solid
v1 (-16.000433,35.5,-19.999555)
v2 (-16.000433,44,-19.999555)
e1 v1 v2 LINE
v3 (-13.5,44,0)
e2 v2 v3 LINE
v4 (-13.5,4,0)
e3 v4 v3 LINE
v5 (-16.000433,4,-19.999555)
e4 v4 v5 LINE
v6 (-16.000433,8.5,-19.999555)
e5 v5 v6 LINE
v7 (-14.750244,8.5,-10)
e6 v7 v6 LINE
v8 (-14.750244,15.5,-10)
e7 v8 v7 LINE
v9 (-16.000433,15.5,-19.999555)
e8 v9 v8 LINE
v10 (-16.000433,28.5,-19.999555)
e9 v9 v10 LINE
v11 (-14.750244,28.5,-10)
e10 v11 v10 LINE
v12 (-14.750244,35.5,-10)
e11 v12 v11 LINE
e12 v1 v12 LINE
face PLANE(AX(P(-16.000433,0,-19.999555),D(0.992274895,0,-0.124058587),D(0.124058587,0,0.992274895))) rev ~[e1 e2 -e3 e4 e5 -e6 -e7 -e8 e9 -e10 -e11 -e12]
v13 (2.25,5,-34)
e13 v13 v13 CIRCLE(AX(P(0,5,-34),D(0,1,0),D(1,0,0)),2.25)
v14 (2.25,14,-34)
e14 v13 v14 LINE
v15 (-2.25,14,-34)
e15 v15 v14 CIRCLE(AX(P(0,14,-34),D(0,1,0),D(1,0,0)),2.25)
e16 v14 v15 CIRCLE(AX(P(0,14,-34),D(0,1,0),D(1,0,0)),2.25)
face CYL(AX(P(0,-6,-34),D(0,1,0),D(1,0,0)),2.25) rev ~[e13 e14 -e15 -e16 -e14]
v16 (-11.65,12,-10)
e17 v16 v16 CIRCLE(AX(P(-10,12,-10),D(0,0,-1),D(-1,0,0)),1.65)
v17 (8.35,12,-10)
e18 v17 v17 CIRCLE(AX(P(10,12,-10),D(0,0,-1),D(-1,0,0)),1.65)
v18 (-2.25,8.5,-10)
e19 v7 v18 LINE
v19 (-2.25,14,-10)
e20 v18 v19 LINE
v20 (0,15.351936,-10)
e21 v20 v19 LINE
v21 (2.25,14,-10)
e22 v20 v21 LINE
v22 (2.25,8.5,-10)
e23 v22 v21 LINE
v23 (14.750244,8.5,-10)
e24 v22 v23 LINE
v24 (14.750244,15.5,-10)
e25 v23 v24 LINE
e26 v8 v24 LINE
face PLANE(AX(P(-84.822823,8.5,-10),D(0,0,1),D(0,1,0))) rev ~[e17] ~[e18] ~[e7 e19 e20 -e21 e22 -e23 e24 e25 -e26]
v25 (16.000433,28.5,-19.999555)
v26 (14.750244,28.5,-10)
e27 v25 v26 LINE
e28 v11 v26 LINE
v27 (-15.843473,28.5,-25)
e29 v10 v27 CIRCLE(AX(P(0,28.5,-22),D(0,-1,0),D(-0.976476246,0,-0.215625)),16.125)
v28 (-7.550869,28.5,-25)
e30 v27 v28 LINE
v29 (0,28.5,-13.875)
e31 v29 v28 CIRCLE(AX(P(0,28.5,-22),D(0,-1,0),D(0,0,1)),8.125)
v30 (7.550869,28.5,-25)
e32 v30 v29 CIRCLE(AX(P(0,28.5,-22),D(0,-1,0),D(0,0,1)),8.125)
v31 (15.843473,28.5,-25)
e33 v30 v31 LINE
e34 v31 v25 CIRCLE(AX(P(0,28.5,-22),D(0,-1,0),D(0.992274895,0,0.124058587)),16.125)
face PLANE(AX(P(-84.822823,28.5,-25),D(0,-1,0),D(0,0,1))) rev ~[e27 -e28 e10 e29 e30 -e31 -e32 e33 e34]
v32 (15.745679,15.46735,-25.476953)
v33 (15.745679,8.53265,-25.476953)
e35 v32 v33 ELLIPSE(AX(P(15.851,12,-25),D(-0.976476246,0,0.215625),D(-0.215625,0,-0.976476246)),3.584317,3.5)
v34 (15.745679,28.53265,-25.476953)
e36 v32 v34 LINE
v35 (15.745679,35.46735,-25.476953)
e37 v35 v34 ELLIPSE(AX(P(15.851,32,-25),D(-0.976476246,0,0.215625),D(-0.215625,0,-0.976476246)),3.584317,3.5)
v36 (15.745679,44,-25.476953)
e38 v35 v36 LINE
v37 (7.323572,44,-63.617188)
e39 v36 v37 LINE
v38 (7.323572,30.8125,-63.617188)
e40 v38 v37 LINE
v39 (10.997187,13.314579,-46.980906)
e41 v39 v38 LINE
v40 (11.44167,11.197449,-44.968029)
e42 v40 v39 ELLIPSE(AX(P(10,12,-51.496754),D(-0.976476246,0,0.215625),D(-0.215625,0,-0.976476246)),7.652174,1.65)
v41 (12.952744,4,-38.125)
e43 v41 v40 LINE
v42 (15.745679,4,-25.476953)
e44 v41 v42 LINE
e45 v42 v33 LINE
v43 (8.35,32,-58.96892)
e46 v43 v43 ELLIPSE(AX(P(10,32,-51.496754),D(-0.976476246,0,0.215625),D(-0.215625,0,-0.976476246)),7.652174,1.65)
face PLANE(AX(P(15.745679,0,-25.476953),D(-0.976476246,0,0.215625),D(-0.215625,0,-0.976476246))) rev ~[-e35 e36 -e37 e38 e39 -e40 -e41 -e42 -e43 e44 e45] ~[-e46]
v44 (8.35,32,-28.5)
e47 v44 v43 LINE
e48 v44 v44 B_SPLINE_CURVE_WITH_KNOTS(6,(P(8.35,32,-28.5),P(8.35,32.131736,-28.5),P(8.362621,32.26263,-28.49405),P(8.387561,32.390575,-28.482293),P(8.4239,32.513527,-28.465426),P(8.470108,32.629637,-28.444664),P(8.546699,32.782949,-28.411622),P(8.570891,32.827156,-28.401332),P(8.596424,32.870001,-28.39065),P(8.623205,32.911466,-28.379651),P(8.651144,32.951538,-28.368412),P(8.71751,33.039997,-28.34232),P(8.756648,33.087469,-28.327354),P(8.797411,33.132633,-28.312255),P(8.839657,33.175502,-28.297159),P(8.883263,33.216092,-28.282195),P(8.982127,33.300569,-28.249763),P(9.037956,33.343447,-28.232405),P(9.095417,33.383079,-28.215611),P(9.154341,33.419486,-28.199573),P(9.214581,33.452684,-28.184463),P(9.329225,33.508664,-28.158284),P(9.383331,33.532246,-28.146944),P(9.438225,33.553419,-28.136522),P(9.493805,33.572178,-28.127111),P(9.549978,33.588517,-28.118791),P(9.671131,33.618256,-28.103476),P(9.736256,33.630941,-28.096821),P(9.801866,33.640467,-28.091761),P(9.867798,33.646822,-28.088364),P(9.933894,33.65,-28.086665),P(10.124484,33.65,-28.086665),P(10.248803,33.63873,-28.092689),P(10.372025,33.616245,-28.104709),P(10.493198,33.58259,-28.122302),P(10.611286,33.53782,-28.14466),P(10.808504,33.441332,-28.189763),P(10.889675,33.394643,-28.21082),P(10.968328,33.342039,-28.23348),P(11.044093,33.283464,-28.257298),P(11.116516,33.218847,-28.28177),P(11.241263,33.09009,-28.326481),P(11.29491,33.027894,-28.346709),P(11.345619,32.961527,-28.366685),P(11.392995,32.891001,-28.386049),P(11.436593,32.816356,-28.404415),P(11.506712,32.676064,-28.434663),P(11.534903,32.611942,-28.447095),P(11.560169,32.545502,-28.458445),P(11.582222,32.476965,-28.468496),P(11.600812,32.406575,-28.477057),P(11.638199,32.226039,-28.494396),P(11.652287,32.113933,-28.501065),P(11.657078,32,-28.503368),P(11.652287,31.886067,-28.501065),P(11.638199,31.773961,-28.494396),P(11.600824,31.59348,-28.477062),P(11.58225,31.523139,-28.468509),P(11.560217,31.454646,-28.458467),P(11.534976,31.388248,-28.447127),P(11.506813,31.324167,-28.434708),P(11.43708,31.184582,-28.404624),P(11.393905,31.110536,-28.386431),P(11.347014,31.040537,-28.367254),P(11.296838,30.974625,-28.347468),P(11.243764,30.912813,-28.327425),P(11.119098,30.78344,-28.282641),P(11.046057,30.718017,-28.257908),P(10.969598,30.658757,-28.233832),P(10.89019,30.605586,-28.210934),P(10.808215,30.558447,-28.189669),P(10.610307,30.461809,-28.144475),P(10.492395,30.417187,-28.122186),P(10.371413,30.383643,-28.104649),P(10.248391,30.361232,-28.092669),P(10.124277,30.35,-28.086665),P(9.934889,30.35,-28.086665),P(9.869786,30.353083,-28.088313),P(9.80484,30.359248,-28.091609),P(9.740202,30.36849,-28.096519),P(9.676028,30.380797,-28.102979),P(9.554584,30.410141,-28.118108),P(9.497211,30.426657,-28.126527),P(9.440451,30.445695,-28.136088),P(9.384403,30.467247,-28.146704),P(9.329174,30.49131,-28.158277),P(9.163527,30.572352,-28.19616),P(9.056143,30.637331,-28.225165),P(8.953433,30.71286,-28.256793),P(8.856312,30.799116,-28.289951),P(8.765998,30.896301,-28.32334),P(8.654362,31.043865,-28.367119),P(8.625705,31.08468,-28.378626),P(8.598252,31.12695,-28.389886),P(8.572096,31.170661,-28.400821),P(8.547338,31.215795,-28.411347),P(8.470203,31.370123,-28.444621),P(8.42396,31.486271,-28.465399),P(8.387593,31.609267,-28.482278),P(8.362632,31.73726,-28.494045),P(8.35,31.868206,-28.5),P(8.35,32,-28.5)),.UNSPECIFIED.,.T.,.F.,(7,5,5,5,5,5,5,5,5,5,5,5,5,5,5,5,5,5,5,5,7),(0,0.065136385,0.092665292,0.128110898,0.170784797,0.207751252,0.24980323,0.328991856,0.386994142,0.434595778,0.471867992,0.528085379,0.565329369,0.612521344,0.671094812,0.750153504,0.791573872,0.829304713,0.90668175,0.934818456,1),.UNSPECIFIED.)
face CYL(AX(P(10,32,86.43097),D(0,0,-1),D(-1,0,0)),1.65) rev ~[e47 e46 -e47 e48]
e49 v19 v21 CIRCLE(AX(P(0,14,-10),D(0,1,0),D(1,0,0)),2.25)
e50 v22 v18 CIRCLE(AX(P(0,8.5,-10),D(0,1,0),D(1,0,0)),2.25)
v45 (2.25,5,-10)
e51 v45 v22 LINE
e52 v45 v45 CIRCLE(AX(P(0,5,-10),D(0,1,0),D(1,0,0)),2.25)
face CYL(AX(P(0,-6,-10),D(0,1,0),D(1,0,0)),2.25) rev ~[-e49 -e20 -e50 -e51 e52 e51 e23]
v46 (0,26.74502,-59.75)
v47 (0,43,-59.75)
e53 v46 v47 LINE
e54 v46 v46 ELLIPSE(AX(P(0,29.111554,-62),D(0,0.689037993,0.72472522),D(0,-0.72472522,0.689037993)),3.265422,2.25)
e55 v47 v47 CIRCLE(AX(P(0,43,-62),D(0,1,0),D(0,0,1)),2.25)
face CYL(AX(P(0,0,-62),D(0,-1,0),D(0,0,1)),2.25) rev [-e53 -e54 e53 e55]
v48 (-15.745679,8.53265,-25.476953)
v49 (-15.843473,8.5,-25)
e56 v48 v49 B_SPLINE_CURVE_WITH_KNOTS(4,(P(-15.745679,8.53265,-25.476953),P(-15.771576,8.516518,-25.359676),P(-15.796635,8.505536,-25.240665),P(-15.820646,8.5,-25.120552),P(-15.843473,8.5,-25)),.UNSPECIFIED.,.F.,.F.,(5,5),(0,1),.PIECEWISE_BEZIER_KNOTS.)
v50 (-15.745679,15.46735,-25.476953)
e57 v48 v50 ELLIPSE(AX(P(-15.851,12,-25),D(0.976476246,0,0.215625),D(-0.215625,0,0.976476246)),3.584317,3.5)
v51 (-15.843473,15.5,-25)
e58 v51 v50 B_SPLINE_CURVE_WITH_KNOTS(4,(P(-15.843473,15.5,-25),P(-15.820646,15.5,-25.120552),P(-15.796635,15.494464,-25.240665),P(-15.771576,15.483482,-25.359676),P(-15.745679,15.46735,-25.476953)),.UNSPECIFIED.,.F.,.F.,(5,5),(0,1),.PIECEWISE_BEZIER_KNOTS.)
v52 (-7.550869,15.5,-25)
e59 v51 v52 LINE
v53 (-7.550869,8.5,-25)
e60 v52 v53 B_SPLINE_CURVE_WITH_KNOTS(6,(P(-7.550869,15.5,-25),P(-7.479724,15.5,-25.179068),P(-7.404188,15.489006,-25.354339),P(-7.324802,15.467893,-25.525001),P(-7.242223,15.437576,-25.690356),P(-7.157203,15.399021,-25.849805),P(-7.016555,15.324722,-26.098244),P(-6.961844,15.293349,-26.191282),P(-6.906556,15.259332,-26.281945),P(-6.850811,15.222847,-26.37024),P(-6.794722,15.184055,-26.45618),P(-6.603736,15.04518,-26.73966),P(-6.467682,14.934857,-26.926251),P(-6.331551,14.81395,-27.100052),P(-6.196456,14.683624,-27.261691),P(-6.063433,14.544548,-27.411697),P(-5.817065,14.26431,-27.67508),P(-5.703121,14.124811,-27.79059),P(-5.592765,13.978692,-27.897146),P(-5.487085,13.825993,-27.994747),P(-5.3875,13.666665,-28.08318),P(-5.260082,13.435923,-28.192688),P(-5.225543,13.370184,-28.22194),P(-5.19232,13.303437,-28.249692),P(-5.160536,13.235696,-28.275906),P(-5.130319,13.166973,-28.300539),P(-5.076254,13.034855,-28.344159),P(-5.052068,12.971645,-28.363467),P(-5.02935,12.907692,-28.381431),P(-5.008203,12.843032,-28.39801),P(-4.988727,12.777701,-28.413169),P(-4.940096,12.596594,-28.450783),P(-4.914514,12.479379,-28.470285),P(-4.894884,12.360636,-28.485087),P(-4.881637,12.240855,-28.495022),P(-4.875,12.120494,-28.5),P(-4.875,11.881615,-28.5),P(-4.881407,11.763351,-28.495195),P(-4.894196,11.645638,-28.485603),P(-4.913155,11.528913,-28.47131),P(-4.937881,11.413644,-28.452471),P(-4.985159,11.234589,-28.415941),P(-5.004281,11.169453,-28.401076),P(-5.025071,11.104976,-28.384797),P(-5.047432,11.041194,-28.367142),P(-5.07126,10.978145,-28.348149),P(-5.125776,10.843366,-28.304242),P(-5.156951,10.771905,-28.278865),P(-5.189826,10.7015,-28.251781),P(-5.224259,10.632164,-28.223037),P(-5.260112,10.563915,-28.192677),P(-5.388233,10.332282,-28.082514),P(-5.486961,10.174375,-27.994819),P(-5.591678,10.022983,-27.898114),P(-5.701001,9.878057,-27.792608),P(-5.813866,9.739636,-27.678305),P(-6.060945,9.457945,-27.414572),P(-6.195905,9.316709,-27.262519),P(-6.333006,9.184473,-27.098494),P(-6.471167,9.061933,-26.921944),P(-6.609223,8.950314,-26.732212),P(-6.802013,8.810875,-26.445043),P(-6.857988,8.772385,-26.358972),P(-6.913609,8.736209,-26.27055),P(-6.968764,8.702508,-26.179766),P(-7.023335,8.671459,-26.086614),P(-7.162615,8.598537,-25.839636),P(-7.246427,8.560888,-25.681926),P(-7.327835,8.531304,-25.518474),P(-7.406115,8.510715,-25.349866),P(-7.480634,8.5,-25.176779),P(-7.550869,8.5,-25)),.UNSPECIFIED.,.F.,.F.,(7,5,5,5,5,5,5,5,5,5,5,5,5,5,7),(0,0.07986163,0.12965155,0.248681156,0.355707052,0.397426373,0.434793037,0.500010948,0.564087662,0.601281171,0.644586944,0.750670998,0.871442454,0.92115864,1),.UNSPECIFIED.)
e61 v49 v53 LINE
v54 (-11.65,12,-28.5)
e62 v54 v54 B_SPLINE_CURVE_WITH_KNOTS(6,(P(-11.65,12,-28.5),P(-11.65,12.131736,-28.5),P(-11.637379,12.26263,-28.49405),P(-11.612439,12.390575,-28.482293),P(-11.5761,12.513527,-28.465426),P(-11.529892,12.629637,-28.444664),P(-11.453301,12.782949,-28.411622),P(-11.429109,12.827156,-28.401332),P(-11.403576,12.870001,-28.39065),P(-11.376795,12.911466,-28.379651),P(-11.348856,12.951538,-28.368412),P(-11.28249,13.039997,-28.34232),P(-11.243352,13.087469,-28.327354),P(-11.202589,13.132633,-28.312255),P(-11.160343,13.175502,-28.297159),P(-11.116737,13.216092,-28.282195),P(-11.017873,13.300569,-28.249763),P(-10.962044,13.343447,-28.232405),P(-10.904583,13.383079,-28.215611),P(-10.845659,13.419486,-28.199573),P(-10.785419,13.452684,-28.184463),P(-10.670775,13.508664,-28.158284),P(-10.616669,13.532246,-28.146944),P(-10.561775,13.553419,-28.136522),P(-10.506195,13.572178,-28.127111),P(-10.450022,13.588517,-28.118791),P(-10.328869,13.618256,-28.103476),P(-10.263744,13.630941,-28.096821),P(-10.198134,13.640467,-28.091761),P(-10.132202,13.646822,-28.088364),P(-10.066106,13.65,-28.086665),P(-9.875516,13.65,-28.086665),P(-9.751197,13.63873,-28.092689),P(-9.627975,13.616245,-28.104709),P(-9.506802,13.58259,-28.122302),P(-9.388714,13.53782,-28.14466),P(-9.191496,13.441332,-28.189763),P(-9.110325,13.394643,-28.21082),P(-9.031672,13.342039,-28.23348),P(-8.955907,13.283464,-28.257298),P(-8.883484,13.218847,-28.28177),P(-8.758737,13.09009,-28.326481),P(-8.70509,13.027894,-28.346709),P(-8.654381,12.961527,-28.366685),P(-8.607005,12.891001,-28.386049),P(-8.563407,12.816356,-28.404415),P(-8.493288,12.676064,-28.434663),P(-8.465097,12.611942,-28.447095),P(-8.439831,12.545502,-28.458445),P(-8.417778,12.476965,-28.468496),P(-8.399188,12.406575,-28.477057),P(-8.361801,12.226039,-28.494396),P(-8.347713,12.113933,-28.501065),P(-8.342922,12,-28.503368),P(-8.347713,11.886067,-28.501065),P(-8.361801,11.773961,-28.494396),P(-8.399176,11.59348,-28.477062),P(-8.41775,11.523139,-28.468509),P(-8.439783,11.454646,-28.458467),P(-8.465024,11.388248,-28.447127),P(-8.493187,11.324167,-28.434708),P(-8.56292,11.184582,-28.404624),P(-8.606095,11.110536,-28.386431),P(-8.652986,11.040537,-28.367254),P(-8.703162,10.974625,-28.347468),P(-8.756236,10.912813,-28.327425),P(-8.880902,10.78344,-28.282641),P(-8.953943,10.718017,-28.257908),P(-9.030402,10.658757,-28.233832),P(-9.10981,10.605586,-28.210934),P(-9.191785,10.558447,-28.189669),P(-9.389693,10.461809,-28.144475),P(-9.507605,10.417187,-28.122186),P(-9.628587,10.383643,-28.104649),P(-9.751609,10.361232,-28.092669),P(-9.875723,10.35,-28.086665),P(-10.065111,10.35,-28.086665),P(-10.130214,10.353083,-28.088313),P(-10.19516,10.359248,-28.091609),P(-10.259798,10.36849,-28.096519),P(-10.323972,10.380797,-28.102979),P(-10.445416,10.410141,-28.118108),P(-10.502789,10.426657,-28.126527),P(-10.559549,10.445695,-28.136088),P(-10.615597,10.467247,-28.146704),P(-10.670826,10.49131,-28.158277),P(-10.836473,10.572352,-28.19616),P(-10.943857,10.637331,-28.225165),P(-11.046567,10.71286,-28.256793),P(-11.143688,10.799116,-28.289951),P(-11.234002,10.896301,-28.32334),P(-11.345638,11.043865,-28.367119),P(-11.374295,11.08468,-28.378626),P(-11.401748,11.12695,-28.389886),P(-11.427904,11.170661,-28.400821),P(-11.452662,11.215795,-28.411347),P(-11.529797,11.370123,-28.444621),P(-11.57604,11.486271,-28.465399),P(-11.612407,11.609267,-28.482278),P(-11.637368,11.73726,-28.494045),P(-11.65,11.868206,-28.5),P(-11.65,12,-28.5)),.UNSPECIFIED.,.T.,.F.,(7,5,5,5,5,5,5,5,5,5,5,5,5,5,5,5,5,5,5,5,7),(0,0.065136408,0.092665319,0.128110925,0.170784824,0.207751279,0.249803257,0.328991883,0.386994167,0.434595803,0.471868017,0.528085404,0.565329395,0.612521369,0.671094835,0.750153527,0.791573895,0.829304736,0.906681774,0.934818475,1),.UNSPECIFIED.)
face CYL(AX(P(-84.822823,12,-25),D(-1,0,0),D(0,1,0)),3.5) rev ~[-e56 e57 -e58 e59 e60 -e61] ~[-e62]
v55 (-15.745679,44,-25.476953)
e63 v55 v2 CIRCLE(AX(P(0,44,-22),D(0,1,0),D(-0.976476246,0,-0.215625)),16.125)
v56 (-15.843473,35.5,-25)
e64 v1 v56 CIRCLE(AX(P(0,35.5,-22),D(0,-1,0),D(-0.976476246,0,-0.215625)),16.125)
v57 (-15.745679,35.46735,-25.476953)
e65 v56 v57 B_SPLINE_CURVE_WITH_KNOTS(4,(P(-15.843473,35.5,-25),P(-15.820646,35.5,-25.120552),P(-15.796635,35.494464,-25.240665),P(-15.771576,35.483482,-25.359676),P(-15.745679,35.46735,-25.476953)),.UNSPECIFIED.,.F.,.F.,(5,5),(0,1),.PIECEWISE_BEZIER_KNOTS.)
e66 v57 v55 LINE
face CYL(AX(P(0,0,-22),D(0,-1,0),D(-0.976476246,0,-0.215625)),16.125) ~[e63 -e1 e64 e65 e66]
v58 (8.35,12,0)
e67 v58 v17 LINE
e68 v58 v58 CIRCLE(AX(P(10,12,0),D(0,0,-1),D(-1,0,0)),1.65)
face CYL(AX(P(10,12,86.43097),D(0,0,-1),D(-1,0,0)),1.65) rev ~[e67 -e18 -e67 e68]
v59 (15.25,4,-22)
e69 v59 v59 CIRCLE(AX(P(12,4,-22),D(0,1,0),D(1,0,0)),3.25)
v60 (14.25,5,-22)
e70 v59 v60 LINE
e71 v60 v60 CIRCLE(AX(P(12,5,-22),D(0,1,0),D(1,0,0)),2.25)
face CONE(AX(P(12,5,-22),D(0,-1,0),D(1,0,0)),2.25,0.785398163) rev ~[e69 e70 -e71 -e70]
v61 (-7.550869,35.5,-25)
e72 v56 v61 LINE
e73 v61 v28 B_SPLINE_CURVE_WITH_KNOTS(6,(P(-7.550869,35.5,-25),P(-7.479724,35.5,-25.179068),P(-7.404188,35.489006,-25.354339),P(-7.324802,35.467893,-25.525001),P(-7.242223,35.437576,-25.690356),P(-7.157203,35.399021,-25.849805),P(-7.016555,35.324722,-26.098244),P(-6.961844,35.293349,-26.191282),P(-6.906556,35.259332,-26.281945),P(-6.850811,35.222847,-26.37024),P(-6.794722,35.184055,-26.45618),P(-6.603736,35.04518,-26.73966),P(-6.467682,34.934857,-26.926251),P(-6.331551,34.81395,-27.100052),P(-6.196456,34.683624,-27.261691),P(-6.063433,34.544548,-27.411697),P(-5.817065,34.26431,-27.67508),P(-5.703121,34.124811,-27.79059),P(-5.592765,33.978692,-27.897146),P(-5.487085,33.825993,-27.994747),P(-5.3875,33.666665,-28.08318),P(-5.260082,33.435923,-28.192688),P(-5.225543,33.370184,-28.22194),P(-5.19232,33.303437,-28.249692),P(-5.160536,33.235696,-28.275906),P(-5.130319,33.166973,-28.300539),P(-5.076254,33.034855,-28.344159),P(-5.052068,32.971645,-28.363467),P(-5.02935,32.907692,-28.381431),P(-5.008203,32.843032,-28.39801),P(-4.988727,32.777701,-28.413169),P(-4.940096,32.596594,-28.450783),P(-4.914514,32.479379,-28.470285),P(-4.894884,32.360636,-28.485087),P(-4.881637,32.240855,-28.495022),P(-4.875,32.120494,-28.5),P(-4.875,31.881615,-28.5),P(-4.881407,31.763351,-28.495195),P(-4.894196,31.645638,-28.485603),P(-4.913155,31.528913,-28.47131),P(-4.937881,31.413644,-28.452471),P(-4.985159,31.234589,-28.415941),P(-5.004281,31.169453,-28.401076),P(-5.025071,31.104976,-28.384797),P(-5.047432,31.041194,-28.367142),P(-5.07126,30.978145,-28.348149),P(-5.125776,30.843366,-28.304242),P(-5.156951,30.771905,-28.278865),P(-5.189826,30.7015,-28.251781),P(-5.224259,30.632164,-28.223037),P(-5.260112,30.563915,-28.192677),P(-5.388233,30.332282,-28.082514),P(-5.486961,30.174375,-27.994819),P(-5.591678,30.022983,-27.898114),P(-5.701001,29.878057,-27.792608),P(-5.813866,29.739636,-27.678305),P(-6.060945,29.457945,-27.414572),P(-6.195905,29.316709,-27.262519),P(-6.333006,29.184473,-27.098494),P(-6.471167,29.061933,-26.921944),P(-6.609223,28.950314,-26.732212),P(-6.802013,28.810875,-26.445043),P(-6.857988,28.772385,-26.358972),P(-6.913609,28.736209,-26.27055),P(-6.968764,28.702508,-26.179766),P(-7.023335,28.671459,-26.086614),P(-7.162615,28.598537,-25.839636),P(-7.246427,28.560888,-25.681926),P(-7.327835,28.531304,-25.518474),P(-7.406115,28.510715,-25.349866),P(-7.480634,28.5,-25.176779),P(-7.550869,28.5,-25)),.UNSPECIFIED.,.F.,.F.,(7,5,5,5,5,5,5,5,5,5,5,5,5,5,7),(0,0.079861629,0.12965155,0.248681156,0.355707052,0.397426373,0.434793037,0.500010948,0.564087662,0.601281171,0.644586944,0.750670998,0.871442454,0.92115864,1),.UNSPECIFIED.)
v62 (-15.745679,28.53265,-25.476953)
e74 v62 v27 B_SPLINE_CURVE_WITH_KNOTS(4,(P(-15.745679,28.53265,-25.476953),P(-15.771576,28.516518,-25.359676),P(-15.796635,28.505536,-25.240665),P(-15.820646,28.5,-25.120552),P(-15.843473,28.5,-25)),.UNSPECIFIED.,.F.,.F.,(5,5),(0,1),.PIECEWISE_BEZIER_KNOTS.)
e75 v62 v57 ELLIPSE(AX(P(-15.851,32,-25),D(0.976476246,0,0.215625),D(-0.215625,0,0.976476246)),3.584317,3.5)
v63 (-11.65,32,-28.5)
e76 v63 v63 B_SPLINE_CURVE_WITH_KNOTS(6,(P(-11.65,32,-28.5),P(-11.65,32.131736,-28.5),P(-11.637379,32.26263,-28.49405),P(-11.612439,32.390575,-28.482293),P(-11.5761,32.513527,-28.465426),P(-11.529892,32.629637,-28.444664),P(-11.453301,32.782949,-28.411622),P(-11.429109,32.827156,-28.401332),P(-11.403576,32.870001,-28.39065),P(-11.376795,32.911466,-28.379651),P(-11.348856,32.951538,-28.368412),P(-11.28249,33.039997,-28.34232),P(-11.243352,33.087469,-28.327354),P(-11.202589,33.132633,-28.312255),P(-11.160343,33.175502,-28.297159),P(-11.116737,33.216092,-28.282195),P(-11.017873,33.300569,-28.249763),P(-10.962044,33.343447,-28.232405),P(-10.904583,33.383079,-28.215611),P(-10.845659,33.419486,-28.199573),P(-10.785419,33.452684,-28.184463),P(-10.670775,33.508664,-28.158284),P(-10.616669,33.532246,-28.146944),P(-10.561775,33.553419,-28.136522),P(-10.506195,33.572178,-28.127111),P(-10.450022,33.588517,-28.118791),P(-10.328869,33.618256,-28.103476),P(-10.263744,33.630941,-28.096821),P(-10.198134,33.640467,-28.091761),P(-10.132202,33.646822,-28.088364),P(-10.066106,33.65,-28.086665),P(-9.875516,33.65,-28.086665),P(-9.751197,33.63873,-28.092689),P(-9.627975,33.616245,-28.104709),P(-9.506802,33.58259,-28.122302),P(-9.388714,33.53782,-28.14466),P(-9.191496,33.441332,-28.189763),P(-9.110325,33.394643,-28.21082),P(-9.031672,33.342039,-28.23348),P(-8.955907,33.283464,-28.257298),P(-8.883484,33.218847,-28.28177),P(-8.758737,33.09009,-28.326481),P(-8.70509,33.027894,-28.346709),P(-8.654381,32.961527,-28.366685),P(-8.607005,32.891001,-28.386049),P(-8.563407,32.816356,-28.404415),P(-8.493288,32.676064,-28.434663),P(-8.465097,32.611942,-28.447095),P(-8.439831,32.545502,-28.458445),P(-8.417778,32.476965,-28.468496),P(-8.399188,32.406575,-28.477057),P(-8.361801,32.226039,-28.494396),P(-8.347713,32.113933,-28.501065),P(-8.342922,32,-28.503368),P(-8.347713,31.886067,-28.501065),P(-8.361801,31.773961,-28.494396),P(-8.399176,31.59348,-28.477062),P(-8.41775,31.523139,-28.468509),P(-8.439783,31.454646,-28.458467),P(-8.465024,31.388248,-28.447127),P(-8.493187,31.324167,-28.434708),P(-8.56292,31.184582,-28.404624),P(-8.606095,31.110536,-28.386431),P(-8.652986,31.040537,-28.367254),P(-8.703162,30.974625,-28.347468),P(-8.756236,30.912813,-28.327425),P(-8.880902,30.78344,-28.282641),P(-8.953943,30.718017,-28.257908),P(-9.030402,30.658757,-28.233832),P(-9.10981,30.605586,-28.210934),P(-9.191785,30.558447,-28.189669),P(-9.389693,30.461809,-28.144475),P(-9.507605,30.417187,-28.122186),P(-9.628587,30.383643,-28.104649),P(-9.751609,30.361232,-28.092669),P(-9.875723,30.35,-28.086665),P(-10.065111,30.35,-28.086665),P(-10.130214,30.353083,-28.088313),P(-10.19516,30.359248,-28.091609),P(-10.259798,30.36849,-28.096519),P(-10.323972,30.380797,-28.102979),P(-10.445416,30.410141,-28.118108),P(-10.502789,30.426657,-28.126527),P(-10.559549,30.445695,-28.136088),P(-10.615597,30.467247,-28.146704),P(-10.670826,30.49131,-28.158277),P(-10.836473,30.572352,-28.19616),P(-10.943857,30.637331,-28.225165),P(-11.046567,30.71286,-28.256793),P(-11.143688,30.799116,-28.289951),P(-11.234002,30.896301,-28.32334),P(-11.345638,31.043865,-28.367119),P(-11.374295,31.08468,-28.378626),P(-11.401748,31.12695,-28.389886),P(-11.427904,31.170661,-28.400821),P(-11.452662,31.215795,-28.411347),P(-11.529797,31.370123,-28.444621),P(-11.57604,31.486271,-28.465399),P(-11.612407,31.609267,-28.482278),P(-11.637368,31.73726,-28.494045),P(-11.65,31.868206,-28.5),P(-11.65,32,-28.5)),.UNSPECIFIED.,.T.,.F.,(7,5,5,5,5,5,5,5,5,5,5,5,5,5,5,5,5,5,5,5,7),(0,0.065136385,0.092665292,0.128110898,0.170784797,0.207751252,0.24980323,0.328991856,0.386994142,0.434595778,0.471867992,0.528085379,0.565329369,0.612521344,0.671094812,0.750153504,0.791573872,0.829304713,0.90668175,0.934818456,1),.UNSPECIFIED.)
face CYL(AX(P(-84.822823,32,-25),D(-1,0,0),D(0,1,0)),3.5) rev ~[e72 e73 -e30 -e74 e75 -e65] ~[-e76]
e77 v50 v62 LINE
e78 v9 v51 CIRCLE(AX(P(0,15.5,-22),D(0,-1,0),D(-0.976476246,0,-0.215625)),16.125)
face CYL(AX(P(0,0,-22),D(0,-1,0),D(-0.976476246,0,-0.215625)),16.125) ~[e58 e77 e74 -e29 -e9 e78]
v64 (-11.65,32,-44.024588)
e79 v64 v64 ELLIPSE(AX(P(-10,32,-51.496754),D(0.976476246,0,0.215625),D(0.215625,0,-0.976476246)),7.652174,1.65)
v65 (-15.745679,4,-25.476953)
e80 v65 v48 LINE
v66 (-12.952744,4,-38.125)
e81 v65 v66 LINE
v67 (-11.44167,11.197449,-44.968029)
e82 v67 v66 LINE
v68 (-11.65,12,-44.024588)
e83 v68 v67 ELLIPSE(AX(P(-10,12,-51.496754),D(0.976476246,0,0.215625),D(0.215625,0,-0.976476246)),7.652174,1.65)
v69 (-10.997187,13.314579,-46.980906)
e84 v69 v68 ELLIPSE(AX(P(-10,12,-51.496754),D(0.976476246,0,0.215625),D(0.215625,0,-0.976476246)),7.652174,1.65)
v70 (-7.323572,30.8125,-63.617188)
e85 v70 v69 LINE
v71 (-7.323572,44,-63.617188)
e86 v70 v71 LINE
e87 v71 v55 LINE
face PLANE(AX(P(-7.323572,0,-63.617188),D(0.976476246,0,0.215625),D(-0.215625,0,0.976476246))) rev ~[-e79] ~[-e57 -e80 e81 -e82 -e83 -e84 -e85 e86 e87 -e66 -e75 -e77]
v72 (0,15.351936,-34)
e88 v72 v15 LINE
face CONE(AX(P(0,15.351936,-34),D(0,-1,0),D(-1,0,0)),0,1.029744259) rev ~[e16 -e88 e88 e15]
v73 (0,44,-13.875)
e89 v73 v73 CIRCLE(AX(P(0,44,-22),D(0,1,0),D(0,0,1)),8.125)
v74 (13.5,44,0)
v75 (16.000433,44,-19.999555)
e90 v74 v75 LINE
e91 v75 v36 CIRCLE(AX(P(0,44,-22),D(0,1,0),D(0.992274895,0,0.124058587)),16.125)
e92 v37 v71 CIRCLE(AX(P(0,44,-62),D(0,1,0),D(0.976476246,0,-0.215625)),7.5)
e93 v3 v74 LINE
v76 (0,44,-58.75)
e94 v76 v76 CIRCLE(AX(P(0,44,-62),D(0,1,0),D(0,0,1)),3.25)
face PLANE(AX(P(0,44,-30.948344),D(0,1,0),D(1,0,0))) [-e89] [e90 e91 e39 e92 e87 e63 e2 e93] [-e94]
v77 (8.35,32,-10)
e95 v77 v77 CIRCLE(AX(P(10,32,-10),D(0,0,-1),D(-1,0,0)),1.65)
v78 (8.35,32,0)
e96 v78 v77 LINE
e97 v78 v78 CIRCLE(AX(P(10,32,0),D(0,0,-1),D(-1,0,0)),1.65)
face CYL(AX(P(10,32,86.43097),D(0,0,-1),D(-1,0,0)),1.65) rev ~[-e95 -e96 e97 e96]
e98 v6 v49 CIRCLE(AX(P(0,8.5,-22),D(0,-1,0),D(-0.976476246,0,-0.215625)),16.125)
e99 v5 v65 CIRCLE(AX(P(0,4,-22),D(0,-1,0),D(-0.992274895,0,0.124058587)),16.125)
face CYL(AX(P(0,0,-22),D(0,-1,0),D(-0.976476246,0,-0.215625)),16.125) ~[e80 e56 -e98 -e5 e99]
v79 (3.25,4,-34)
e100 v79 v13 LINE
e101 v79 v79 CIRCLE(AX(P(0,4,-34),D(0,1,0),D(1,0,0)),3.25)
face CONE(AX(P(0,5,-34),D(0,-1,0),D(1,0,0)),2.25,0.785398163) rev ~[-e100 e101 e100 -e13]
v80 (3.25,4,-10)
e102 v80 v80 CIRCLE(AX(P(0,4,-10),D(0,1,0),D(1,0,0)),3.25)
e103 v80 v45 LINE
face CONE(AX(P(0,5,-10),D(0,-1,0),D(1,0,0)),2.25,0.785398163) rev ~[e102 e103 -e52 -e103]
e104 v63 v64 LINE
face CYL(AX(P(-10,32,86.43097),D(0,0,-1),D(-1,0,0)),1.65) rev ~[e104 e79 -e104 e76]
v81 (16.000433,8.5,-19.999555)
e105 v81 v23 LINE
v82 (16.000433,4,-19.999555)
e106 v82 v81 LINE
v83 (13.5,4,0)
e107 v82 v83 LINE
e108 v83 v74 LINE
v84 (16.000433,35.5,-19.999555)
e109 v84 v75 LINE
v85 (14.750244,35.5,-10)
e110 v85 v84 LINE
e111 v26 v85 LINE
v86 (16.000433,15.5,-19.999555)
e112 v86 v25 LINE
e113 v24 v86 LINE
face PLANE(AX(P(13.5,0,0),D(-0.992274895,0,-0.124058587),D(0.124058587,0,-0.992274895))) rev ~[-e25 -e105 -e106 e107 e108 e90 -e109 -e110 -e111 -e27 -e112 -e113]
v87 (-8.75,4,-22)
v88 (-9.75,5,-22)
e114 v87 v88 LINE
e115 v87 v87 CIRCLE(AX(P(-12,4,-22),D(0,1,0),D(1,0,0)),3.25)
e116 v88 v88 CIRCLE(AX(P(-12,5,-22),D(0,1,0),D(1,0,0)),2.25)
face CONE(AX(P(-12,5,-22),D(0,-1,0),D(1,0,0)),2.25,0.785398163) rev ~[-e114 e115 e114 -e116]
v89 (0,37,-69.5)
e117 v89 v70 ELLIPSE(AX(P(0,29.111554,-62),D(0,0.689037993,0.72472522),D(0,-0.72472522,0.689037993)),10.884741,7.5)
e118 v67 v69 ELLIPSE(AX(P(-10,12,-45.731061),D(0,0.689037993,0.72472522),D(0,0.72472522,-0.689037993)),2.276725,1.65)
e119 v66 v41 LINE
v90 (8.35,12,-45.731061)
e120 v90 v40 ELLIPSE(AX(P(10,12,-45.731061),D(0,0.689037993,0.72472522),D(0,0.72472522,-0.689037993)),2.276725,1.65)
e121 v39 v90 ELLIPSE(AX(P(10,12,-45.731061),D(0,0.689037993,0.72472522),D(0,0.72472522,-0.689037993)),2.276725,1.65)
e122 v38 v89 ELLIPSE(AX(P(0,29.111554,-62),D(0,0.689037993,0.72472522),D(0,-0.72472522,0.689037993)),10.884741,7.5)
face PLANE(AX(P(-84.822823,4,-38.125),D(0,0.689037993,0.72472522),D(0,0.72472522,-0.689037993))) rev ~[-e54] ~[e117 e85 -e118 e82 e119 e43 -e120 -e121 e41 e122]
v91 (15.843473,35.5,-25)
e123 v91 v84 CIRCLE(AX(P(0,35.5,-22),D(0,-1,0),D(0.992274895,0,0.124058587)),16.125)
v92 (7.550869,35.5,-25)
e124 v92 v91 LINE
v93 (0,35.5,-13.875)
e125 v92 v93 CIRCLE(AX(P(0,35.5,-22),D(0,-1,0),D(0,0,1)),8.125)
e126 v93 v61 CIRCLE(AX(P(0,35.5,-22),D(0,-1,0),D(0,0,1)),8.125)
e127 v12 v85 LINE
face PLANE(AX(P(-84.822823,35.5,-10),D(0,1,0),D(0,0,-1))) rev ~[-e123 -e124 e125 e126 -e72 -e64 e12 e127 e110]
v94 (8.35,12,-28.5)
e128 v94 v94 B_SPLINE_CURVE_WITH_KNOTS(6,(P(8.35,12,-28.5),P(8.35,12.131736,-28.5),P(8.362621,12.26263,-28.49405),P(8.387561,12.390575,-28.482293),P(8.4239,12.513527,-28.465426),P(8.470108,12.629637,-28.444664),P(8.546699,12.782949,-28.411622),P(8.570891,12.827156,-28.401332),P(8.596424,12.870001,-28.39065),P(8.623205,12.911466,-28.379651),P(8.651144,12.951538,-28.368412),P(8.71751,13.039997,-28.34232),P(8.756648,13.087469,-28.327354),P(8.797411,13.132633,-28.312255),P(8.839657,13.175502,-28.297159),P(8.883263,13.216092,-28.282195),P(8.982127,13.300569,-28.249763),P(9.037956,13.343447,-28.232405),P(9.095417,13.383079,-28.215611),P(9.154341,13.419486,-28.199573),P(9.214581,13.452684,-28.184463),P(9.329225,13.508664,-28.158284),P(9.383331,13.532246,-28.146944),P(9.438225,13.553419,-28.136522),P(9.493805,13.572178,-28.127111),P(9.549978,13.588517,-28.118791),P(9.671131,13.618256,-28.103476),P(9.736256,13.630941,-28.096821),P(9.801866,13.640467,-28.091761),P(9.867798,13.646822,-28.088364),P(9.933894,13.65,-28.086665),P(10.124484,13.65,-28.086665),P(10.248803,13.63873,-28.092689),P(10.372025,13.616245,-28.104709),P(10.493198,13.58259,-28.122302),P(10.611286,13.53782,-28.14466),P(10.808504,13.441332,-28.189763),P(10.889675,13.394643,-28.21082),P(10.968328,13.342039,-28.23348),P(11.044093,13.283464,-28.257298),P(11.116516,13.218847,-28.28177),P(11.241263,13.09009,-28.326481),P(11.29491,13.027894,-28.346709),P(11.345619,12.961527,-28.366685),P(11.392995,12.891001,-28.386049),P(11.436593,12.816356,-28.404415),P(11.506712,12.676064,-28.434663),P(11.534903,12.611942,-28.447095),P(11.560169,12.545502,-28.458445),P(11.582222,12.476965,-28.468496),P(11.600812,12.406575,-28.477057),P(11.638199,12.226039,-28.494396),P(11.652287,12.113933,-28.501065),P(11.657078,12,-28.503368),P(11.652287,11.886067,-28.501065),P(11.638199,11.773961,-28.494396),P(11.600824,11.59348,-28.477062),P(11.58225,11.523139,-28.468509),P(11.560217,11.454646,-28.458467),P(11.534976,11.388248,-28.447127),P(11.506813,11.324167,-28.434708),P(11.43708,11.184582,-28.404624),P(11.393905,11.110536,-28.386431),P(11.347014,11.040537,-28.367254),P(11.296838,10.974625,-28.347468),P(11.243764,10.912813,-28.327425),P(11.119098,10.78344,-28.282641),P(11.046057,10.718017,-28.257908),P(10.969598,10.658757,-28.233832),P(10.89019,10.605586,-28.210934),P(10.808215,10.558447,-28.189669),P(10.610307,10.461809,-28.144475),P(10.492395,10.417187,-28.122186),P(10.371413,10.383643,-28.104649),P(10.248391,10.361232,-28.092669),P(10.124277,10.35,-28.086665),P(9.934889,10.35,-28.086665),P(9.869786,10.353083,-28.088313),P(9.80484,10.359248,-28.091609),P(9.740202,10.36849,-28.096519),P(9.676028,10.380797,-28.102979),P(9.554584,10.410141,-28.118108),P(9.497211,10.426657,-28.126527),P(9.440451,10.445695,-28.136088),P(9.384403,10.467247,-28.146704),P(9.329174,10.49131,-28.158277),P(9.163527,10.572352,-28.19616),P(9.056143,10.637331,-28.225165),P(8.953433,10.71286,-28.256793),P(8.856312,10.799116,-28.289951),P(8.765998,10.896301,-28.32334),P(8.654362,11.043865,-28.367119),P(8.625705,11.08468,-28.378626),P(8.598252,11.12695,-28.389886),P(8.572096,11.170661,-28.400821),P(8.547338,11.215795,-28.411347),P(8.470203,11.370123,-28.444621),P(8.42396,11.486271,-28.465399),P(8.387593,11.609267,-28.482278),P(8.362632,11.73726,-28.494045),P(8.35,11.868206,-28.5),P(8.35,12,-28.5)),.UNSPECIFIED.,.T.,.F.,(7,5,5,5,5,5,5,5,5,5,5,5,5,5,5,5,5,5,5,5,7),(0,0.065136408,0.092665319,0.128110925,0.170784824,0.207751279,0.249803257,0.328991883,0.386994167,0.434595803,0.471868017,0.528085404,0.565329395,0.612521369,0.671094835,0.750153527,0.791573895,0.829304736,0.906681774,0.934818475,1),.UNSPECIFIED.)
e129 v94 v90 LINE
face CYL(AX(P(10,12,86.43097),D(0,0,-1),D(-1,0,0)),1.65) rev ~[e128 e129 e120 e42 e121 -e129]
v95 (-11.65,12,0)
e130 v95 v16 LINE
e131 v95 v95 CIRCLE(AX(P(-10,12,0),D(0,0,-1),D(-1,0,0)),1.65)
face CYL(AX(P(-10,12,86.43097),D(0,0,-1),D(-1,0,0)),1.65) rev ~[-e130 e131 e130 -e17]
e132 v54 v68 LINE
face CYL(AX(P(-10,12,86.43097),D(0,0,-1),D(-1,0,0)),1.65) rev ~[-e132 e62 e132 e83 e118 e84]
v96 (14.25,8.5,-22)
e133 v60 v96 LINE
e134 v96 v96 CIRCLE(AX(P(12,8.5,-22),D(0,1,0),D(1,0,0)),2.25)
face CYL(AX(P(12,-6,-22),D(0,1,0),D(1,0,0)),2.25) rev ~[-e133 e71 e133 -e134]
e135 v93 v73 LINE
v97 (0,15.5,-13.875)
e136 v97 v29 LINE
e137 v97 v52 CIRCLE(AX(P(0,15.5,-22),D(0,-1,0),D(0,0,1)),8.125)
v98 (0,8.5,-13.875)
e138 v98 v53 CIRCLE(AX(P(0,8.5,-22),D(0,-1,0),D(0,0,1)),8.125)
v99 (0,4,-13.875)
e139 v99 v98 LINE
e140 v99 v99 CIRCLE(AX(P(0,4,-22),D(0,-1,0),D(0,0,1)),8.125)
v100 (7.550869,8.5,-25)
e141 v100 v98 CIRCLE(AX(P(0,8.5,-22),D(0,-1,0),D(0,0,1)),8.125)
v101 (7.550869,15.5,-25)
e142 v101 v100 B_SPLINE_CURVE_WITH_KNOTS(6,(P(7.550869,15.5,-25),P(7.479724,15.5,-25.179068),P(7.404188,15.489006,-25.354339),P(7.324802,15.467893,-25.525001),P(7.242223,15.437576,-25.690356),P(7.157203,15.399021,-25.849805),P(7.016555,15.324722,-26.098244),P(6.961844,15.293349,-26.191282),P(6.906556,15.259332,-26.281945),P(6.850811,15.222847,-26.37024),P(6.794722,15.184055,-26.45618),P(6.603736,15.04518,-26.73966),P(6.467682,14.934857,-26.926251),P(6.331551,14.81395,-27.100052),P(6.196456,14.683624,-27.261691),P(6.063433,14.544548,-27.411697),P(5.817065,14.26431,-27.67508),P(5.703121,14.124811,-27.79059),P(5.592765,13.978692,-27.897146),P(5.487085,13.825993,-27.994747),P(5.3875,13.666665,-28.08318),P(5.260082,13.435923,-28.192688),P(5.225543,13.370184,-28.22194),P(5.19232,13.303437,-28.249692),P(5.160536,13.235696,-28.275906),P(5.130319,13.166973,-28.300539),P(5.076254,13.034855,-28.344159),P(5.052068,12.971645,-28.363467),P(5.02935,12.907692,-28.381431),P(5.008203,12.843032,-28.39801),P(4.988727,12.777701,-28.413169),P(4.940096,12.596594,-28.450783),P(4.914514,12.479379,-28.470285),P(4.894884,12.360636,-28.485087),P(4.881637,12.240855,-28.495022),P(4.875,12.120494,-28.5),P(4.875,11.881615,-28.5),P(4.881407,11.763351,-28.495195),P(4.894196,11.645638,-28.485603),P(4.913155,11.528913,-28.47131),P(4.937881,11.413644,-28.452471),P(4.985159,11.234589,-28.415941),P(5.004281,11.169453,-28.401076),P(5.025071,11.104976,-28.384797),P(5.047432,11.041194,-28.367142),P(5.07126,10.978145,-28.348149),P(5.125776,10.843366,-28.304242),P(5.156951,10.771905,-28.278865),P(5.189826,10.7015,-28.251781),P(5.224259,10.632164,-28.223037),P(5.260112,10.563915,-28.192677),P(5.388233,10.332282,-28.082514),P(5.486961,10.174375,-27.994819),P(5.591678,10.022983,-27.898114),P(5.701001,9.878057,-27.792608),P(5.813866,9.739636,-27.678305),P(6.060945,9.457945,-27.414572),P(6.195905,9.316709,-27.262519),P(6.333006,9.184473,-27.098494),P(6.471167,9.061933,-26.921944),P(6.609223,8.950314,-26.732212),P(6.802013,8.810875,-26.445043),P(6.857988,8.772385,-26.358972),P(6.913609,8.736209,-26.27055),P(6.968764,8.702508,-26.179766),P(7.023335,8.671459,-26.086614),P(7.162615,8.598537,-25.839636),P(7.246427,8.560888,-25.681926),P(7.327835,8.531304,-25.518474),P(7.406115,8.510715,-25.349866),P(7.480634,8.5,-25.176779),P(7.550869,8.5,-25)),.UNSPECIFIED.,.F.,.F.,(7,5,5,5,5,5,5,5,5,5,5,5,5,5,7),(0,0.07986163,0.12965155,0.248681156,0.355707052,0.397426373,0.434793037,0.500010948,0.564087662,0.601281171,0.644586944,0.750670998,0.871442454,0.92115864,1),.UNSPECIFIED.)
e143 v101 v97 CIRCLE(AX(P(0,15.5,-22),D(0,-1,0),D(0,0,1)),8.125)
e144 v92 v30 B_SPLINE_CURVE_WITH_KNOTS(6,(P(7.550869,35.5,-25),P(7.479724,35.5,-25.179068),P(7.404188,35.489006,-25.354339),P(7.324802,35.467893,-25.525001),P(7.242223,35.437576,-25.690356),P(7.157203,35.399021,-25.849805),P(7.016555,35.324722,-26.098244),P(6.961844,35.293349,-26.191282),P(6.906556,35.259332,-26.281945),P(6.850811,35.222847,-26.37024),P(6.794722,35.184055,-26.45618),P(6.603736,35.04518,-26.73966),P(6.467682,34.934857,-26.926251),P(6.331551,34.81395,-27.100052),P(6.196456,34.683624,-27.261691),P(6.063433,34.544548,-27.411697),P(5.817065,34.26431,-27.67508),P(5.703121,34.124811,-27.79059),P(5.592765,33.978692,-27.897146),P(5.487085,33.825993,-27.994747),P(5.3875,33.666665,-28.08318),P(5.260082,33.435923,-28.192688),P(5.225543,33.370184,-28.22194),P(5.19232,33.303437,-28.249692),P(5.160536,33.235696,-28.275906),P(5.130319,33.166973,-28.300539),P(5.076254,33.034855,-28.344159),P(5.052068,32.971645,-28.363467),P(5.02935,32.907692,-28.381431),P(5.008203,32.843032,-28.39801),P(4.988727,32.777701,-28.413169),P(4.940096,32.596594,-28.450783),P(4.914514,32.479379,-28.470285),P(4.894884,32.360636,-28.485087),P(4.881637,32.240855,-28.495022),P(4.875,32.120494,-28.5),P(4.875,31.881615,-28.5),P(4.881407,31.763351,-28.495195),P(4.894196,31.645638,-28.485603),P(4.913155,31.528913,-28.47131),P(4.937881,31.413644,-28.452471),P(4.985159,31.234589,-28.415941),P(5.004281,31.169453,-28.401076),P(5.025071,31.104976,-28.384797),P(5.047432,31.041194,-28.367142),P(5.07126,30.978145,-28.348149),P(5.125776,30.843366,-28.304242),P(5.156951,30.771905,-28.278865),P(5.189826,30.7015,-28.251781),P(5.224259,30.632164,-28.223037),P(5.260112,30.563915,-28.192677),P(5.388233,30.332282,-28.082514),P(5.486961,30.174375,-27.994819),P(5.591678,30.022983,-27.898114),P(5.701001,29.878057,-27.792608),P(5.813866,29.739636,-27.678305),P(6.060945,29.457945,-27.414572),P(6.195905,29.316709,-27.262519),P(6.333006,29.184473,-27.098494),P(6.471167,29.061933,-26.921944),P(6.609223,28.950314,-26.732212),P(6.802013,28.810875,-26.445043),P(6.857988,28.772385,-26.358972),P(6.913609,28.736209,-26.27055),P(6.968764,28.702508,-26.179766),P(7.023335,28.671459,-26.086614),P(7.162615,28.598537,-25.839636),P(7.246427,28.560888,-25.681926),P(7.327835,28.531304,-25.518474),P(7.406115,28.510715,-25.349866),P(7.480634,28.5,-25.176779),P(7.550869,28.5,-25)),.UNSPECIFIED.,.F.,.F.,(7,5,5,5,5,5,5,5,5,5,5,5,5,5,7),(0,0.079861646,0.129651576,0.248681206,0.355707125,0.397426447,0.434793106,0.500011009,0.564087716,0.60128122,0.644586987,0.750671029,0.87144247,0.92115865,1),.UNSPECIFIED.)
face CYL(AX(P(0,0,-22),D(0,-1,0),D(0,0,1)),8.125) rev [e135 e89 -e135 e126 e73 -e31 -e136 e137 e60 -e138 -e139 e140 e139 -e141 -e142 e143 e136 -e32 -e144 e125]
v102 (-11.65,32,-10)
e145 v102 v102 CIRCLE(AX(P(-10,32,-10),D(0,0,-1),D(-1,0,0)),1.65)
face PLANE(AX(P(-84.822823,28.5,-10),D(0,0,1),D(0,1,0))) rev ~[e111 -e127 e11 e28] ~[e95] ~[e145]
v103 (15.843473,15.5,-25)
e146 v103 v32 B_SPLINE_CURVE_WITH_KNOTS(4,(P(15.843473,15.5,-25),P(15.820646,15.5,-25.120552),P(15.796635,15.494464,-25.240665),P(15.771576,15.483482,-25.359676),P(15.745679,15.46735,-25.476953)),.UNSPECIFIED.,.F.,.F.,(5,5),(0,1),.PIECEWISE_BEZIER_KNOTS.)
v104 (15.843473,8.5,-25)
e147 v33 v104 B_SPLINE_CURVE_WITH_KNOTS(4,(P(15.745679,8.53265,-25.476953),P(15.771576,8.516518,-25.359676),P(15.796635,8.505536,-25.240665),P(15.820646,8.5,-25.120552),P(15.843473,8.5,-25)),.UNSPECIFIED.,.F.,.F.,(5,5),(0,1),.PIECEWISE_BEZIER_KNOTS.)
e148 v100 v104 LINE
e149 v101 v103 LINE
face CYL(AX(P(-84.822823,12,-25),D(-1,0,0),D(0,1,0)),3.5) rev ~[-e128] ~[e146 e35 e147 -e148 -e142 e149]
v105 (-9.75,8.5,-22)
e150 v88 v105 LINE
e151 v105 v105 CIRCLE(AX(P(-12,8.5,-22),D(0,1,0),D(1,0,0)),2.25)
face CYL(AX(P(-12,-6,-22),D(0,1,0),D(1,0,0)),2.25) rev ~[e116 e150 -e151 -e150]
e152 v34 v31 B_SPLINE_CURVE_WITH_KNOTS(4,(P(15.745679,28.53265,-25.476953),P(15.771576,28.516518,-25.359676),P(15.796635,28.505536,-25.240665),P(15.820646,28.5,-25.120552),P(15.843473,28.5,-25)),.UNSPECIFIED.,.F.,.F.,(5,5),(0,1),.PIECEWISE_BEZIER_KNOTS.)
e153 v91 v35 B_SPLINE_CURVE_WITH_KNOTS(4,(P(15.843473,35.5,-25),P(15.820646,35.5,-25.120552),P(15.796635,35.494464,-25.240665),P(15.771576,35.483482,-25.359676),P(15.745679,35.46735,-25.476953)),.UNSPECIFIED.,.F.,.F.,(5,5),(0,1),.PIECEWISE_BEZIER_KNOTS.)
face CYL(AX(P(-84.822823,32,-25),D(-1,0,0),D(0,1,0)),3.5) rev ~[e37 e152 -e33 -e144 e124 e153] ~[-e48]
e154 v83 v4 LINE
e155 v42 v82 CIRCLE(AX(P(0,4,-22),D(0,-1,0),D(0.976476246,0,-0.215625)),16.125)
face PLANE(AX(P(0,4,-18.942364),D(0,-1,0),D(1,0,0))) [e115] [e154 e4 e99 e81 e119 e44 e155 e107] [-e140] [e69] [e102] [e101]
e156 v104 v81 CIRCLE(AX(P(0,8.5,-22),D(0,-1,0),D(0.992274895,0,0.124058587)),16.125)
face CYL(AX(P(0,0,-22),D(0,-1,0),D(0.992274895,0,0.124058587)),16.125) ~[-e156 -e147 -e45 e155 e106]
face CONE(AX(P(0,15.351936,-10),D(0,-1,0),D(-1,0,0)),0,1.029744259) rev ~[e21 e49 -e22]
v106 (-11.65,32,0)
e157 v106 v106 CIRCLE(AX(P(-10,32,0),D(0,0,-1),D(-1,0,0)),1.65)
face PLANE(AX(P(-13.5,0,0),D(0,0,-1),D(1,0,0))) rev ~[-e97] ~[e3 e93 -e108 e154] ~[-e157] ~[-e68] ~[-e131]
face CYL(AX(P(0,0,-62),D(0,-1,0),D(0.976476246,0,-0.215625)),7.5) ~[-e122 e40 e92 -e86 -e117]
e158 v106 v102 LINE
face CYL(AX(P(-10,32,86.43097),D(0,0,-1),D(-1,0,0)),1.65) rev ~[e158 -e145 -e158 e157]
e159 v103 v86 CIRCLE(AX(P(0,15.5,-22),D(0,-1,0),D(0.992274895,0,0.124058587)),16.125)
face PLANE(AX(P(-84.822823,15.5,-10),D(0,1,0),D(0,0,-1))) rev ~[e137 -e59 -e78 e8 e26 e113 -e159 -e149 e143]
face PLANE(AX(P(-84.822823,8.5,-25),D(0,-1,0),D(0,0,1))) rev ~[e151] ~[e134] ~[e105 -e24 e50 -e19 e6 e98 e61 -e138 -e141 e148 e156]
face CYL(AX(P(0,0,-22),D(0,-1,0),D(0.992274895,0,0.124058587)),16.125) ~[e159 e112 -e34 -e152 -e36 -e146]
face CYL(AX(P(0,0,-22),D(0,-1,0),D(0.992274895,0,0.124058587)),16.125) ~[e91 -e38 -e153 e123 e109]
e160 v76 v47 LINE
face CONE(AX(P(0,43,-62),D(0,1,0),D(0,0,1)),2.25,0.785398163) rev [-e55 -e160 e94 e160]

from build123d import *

# Parameters (mm, degrees)
SKETCH1_R                      = 2.25
SKETCH1_R_2                    = 8.125
BOSS_EXTRUDE1_DEPTH            = 44
CUT_EXTRUDE1_DEPTH             = 4
CUT_EXTRUDE3_DEPTH             = 84.822822817
CUT_EXTRUDE3_DEPTH_BACK        = 84.822822817
F_4_5_4_5_DIAMETER_HOLE1_D     = 4.5
F_4_5_4_5_DIAMETER_HOLE1_DEPTH = 10
F_4_5_4_5_DIAMETER_HOLE1_TIP   = 1.351936393
F_3_3_3_3_DIAMETER_HOLE1_D     = 3.3
CUT_EXTRUDE4_DEPTH             = 84.822822817
CUT_EXTRUDE4_DEPTH_BACK        = 84.822822817
CHAMFER1_SIZE                  = 1


with BuildPart() as part:
    # Sketch1 → Boss-Extrude1 (new body)
    with BuildSketch(Plane(origin=(0, 0, 0), x_dir=(1, 0, 0), z_dir=(0, 1, 0))):
        with BuildLine():
            Line((-7.323571846, 63.6171875), (-15.74567947, 25.476953125))
            ThreePointArc((-15.74567947, 25.476953125), (-16.107587682, 22.749162244), (-16.000432679, 19.99955528))
            Line((-16.000432679, 19.99955528), (-13.5, 0))
            Line((-13.5, 0), (13.5, 0))
            Line((13.5, 0), (16.000432679, 19.99955528))
            ThreePointArc((16.000432679, 19.99955528), (16.107587682, 22.749162244), (15.74567947, 25.476953125))
            Line((15.74567947, 25.476953125), (7.323571846, 63.6171875))
            ThreePointArc((7.323571846, 63.6171875), (0, 69.5), (-7.323571846, 63.6171875))
        make_face()
        with Locations(Location((0, 62, 0), (0, 0, 270))):
            Circle(SKETCH1_R, mode=Mode.SUBTRACT)
        with Locations(Location((0, 22, 0), (0, 0, 270))):
            Circle(SKETCH1_R_2, mode=Mode.SUBTRACT)
    extrude(amount=BOSS_EXTRUDE1_DEPTH)

    # Sketch2 → Cut-Extrude1 (cut)
    with BuildSketch(Plane.XZ):
        with BuildLine():
            Line((-15.74567947, -25.476953125), (-12.952744037, -38.125))
            Line((-12.952744037, -38.125), (12.952744037, -38.125))
            Line((12.952744037, -38.125), (15.74567947, -25.476953125))
            ThreePointArc((15.74567947, -25.476953125), (16.107587682, -22.749162244), (16.000432679, -19.99955528))
            Line((16.000432679, -19.99955528), (13.5, 0))
            Line((13.5, 0), (-13.5, 0))
            Line((-13.5, 0), (-16.000432679, -19.99955528))
            ThreePointArc((-16.000432679, -19.99955528), (-16.107587682, -22.749162244), (-15.74567947, -25.476953125))
        make_face()
    extrude(amount=-CUT_EXTRUDE1_DEPTH, mode=Mode.SUBTRACT)

    # Sketch3 → Cut-Extrude3 (cut, two sides: drawn at the far end of the back side and taken through both)
    with BuildSketch(Plane(origin=(0, 0, 0), x_dir=(0, 0, -1), z_dir=(1, 0, 0)).offset(-CUT_EXTRUDE3_DEPTH_BACK)):
        Polygon((69.5, 37), (69.5, 0), (38.125, 0), (38.125, 4), align=None)
    extrude(amount=CUT_EXTRUDE3_DEPTH + CUT_EXTRUDE3_DEPTH_BACK, mode=Mode.SUBTRACT)

    # Ø4.5 (4.5) Diameter Hole1
    with Locations(Plane(origin=(0, 4, 0), x_dir=(-1, 0, 0), z_dir=(0, -1, 0))):
        with Locations((12, 22), (0, 34), (-12, 22), (0, 10)):
            Hole(F_4_5_4_5_DIAMETER_HOLE1_D / 2, depth=F_4_5_4_5_DIAMETER_HOLE1_DEPTH)
            with Locations((0, 0, -(F_4_5_4_5_DIAMETER_HOLE1_DEPTH + F_4_5_4_5_DIAMETER_HOLE1_TIP / 2))):  # 118° drill point
                Cone(0, F_4_5_4_5_DIAMETER_HOLE1_D / 2, F_4_5_4_5_DIAMETER_HOLE1_TIP, mode=Mode.SUBTRACT)

    # Ø3.3 (3.3) Diameter Hole1 (through all)
    with Locations(Plane.XY):
        with Locations((-10, 32), (10, 32), (10, 12), (-10, 12)):
            Hole(F_3_3_3_3_DIAMETER_HOLE1_D / 2)

    # Sketch10 → Cut-Extrude4 (cut, two sides: drawn at the far end of the back side and taken through both)
    with BuildSketch(Plane(origin=(0, 0, 0), x_dir=(0, 0, -1), z_dir=(1, 0, 0)).offset(-CUT_EXTRUDE4_DEPTH_BACK)):
        with BuildLine():
            Line((10, 35.5), (25, 35.5))
            ThreePointArc((25, 35.5), (28.5, 32), (25, 28.5))
            Line((25, 28.5), (10, 28.5))
            Line((10, 28.5), (10, 35.5))
        make_face()
        with BuildLine():
            Line((10, 15.5), (25, 15.5))
            ThreePointArc((25, 15.5), (28.5, 12), (25, 8.5))
            Line((25, 8.5), (10, 8.5))
            Line((10, 8.5), (10, 15.5))
        make_face()
    extrude(amount=CUT_EXTRUDE4_DEPTH + CUT_EXTRUDE4_DEPTH_BACK, mode=Mode.SUBTRACT)

    # Chamfer1
    chamfer1_edges = [part.edges().sort_by_distance(p)[0] for p in [
        (-14.25, 4, -22),
        (0, 44, -64.25),
        (-2.25, 4, -10),
        (9.75, 4, -22),
        (-2.25, 4, -34),
    ]]
    chamfer(chamfer1_edges, length=CHAMFER1_SIZE)


solid = part.part
